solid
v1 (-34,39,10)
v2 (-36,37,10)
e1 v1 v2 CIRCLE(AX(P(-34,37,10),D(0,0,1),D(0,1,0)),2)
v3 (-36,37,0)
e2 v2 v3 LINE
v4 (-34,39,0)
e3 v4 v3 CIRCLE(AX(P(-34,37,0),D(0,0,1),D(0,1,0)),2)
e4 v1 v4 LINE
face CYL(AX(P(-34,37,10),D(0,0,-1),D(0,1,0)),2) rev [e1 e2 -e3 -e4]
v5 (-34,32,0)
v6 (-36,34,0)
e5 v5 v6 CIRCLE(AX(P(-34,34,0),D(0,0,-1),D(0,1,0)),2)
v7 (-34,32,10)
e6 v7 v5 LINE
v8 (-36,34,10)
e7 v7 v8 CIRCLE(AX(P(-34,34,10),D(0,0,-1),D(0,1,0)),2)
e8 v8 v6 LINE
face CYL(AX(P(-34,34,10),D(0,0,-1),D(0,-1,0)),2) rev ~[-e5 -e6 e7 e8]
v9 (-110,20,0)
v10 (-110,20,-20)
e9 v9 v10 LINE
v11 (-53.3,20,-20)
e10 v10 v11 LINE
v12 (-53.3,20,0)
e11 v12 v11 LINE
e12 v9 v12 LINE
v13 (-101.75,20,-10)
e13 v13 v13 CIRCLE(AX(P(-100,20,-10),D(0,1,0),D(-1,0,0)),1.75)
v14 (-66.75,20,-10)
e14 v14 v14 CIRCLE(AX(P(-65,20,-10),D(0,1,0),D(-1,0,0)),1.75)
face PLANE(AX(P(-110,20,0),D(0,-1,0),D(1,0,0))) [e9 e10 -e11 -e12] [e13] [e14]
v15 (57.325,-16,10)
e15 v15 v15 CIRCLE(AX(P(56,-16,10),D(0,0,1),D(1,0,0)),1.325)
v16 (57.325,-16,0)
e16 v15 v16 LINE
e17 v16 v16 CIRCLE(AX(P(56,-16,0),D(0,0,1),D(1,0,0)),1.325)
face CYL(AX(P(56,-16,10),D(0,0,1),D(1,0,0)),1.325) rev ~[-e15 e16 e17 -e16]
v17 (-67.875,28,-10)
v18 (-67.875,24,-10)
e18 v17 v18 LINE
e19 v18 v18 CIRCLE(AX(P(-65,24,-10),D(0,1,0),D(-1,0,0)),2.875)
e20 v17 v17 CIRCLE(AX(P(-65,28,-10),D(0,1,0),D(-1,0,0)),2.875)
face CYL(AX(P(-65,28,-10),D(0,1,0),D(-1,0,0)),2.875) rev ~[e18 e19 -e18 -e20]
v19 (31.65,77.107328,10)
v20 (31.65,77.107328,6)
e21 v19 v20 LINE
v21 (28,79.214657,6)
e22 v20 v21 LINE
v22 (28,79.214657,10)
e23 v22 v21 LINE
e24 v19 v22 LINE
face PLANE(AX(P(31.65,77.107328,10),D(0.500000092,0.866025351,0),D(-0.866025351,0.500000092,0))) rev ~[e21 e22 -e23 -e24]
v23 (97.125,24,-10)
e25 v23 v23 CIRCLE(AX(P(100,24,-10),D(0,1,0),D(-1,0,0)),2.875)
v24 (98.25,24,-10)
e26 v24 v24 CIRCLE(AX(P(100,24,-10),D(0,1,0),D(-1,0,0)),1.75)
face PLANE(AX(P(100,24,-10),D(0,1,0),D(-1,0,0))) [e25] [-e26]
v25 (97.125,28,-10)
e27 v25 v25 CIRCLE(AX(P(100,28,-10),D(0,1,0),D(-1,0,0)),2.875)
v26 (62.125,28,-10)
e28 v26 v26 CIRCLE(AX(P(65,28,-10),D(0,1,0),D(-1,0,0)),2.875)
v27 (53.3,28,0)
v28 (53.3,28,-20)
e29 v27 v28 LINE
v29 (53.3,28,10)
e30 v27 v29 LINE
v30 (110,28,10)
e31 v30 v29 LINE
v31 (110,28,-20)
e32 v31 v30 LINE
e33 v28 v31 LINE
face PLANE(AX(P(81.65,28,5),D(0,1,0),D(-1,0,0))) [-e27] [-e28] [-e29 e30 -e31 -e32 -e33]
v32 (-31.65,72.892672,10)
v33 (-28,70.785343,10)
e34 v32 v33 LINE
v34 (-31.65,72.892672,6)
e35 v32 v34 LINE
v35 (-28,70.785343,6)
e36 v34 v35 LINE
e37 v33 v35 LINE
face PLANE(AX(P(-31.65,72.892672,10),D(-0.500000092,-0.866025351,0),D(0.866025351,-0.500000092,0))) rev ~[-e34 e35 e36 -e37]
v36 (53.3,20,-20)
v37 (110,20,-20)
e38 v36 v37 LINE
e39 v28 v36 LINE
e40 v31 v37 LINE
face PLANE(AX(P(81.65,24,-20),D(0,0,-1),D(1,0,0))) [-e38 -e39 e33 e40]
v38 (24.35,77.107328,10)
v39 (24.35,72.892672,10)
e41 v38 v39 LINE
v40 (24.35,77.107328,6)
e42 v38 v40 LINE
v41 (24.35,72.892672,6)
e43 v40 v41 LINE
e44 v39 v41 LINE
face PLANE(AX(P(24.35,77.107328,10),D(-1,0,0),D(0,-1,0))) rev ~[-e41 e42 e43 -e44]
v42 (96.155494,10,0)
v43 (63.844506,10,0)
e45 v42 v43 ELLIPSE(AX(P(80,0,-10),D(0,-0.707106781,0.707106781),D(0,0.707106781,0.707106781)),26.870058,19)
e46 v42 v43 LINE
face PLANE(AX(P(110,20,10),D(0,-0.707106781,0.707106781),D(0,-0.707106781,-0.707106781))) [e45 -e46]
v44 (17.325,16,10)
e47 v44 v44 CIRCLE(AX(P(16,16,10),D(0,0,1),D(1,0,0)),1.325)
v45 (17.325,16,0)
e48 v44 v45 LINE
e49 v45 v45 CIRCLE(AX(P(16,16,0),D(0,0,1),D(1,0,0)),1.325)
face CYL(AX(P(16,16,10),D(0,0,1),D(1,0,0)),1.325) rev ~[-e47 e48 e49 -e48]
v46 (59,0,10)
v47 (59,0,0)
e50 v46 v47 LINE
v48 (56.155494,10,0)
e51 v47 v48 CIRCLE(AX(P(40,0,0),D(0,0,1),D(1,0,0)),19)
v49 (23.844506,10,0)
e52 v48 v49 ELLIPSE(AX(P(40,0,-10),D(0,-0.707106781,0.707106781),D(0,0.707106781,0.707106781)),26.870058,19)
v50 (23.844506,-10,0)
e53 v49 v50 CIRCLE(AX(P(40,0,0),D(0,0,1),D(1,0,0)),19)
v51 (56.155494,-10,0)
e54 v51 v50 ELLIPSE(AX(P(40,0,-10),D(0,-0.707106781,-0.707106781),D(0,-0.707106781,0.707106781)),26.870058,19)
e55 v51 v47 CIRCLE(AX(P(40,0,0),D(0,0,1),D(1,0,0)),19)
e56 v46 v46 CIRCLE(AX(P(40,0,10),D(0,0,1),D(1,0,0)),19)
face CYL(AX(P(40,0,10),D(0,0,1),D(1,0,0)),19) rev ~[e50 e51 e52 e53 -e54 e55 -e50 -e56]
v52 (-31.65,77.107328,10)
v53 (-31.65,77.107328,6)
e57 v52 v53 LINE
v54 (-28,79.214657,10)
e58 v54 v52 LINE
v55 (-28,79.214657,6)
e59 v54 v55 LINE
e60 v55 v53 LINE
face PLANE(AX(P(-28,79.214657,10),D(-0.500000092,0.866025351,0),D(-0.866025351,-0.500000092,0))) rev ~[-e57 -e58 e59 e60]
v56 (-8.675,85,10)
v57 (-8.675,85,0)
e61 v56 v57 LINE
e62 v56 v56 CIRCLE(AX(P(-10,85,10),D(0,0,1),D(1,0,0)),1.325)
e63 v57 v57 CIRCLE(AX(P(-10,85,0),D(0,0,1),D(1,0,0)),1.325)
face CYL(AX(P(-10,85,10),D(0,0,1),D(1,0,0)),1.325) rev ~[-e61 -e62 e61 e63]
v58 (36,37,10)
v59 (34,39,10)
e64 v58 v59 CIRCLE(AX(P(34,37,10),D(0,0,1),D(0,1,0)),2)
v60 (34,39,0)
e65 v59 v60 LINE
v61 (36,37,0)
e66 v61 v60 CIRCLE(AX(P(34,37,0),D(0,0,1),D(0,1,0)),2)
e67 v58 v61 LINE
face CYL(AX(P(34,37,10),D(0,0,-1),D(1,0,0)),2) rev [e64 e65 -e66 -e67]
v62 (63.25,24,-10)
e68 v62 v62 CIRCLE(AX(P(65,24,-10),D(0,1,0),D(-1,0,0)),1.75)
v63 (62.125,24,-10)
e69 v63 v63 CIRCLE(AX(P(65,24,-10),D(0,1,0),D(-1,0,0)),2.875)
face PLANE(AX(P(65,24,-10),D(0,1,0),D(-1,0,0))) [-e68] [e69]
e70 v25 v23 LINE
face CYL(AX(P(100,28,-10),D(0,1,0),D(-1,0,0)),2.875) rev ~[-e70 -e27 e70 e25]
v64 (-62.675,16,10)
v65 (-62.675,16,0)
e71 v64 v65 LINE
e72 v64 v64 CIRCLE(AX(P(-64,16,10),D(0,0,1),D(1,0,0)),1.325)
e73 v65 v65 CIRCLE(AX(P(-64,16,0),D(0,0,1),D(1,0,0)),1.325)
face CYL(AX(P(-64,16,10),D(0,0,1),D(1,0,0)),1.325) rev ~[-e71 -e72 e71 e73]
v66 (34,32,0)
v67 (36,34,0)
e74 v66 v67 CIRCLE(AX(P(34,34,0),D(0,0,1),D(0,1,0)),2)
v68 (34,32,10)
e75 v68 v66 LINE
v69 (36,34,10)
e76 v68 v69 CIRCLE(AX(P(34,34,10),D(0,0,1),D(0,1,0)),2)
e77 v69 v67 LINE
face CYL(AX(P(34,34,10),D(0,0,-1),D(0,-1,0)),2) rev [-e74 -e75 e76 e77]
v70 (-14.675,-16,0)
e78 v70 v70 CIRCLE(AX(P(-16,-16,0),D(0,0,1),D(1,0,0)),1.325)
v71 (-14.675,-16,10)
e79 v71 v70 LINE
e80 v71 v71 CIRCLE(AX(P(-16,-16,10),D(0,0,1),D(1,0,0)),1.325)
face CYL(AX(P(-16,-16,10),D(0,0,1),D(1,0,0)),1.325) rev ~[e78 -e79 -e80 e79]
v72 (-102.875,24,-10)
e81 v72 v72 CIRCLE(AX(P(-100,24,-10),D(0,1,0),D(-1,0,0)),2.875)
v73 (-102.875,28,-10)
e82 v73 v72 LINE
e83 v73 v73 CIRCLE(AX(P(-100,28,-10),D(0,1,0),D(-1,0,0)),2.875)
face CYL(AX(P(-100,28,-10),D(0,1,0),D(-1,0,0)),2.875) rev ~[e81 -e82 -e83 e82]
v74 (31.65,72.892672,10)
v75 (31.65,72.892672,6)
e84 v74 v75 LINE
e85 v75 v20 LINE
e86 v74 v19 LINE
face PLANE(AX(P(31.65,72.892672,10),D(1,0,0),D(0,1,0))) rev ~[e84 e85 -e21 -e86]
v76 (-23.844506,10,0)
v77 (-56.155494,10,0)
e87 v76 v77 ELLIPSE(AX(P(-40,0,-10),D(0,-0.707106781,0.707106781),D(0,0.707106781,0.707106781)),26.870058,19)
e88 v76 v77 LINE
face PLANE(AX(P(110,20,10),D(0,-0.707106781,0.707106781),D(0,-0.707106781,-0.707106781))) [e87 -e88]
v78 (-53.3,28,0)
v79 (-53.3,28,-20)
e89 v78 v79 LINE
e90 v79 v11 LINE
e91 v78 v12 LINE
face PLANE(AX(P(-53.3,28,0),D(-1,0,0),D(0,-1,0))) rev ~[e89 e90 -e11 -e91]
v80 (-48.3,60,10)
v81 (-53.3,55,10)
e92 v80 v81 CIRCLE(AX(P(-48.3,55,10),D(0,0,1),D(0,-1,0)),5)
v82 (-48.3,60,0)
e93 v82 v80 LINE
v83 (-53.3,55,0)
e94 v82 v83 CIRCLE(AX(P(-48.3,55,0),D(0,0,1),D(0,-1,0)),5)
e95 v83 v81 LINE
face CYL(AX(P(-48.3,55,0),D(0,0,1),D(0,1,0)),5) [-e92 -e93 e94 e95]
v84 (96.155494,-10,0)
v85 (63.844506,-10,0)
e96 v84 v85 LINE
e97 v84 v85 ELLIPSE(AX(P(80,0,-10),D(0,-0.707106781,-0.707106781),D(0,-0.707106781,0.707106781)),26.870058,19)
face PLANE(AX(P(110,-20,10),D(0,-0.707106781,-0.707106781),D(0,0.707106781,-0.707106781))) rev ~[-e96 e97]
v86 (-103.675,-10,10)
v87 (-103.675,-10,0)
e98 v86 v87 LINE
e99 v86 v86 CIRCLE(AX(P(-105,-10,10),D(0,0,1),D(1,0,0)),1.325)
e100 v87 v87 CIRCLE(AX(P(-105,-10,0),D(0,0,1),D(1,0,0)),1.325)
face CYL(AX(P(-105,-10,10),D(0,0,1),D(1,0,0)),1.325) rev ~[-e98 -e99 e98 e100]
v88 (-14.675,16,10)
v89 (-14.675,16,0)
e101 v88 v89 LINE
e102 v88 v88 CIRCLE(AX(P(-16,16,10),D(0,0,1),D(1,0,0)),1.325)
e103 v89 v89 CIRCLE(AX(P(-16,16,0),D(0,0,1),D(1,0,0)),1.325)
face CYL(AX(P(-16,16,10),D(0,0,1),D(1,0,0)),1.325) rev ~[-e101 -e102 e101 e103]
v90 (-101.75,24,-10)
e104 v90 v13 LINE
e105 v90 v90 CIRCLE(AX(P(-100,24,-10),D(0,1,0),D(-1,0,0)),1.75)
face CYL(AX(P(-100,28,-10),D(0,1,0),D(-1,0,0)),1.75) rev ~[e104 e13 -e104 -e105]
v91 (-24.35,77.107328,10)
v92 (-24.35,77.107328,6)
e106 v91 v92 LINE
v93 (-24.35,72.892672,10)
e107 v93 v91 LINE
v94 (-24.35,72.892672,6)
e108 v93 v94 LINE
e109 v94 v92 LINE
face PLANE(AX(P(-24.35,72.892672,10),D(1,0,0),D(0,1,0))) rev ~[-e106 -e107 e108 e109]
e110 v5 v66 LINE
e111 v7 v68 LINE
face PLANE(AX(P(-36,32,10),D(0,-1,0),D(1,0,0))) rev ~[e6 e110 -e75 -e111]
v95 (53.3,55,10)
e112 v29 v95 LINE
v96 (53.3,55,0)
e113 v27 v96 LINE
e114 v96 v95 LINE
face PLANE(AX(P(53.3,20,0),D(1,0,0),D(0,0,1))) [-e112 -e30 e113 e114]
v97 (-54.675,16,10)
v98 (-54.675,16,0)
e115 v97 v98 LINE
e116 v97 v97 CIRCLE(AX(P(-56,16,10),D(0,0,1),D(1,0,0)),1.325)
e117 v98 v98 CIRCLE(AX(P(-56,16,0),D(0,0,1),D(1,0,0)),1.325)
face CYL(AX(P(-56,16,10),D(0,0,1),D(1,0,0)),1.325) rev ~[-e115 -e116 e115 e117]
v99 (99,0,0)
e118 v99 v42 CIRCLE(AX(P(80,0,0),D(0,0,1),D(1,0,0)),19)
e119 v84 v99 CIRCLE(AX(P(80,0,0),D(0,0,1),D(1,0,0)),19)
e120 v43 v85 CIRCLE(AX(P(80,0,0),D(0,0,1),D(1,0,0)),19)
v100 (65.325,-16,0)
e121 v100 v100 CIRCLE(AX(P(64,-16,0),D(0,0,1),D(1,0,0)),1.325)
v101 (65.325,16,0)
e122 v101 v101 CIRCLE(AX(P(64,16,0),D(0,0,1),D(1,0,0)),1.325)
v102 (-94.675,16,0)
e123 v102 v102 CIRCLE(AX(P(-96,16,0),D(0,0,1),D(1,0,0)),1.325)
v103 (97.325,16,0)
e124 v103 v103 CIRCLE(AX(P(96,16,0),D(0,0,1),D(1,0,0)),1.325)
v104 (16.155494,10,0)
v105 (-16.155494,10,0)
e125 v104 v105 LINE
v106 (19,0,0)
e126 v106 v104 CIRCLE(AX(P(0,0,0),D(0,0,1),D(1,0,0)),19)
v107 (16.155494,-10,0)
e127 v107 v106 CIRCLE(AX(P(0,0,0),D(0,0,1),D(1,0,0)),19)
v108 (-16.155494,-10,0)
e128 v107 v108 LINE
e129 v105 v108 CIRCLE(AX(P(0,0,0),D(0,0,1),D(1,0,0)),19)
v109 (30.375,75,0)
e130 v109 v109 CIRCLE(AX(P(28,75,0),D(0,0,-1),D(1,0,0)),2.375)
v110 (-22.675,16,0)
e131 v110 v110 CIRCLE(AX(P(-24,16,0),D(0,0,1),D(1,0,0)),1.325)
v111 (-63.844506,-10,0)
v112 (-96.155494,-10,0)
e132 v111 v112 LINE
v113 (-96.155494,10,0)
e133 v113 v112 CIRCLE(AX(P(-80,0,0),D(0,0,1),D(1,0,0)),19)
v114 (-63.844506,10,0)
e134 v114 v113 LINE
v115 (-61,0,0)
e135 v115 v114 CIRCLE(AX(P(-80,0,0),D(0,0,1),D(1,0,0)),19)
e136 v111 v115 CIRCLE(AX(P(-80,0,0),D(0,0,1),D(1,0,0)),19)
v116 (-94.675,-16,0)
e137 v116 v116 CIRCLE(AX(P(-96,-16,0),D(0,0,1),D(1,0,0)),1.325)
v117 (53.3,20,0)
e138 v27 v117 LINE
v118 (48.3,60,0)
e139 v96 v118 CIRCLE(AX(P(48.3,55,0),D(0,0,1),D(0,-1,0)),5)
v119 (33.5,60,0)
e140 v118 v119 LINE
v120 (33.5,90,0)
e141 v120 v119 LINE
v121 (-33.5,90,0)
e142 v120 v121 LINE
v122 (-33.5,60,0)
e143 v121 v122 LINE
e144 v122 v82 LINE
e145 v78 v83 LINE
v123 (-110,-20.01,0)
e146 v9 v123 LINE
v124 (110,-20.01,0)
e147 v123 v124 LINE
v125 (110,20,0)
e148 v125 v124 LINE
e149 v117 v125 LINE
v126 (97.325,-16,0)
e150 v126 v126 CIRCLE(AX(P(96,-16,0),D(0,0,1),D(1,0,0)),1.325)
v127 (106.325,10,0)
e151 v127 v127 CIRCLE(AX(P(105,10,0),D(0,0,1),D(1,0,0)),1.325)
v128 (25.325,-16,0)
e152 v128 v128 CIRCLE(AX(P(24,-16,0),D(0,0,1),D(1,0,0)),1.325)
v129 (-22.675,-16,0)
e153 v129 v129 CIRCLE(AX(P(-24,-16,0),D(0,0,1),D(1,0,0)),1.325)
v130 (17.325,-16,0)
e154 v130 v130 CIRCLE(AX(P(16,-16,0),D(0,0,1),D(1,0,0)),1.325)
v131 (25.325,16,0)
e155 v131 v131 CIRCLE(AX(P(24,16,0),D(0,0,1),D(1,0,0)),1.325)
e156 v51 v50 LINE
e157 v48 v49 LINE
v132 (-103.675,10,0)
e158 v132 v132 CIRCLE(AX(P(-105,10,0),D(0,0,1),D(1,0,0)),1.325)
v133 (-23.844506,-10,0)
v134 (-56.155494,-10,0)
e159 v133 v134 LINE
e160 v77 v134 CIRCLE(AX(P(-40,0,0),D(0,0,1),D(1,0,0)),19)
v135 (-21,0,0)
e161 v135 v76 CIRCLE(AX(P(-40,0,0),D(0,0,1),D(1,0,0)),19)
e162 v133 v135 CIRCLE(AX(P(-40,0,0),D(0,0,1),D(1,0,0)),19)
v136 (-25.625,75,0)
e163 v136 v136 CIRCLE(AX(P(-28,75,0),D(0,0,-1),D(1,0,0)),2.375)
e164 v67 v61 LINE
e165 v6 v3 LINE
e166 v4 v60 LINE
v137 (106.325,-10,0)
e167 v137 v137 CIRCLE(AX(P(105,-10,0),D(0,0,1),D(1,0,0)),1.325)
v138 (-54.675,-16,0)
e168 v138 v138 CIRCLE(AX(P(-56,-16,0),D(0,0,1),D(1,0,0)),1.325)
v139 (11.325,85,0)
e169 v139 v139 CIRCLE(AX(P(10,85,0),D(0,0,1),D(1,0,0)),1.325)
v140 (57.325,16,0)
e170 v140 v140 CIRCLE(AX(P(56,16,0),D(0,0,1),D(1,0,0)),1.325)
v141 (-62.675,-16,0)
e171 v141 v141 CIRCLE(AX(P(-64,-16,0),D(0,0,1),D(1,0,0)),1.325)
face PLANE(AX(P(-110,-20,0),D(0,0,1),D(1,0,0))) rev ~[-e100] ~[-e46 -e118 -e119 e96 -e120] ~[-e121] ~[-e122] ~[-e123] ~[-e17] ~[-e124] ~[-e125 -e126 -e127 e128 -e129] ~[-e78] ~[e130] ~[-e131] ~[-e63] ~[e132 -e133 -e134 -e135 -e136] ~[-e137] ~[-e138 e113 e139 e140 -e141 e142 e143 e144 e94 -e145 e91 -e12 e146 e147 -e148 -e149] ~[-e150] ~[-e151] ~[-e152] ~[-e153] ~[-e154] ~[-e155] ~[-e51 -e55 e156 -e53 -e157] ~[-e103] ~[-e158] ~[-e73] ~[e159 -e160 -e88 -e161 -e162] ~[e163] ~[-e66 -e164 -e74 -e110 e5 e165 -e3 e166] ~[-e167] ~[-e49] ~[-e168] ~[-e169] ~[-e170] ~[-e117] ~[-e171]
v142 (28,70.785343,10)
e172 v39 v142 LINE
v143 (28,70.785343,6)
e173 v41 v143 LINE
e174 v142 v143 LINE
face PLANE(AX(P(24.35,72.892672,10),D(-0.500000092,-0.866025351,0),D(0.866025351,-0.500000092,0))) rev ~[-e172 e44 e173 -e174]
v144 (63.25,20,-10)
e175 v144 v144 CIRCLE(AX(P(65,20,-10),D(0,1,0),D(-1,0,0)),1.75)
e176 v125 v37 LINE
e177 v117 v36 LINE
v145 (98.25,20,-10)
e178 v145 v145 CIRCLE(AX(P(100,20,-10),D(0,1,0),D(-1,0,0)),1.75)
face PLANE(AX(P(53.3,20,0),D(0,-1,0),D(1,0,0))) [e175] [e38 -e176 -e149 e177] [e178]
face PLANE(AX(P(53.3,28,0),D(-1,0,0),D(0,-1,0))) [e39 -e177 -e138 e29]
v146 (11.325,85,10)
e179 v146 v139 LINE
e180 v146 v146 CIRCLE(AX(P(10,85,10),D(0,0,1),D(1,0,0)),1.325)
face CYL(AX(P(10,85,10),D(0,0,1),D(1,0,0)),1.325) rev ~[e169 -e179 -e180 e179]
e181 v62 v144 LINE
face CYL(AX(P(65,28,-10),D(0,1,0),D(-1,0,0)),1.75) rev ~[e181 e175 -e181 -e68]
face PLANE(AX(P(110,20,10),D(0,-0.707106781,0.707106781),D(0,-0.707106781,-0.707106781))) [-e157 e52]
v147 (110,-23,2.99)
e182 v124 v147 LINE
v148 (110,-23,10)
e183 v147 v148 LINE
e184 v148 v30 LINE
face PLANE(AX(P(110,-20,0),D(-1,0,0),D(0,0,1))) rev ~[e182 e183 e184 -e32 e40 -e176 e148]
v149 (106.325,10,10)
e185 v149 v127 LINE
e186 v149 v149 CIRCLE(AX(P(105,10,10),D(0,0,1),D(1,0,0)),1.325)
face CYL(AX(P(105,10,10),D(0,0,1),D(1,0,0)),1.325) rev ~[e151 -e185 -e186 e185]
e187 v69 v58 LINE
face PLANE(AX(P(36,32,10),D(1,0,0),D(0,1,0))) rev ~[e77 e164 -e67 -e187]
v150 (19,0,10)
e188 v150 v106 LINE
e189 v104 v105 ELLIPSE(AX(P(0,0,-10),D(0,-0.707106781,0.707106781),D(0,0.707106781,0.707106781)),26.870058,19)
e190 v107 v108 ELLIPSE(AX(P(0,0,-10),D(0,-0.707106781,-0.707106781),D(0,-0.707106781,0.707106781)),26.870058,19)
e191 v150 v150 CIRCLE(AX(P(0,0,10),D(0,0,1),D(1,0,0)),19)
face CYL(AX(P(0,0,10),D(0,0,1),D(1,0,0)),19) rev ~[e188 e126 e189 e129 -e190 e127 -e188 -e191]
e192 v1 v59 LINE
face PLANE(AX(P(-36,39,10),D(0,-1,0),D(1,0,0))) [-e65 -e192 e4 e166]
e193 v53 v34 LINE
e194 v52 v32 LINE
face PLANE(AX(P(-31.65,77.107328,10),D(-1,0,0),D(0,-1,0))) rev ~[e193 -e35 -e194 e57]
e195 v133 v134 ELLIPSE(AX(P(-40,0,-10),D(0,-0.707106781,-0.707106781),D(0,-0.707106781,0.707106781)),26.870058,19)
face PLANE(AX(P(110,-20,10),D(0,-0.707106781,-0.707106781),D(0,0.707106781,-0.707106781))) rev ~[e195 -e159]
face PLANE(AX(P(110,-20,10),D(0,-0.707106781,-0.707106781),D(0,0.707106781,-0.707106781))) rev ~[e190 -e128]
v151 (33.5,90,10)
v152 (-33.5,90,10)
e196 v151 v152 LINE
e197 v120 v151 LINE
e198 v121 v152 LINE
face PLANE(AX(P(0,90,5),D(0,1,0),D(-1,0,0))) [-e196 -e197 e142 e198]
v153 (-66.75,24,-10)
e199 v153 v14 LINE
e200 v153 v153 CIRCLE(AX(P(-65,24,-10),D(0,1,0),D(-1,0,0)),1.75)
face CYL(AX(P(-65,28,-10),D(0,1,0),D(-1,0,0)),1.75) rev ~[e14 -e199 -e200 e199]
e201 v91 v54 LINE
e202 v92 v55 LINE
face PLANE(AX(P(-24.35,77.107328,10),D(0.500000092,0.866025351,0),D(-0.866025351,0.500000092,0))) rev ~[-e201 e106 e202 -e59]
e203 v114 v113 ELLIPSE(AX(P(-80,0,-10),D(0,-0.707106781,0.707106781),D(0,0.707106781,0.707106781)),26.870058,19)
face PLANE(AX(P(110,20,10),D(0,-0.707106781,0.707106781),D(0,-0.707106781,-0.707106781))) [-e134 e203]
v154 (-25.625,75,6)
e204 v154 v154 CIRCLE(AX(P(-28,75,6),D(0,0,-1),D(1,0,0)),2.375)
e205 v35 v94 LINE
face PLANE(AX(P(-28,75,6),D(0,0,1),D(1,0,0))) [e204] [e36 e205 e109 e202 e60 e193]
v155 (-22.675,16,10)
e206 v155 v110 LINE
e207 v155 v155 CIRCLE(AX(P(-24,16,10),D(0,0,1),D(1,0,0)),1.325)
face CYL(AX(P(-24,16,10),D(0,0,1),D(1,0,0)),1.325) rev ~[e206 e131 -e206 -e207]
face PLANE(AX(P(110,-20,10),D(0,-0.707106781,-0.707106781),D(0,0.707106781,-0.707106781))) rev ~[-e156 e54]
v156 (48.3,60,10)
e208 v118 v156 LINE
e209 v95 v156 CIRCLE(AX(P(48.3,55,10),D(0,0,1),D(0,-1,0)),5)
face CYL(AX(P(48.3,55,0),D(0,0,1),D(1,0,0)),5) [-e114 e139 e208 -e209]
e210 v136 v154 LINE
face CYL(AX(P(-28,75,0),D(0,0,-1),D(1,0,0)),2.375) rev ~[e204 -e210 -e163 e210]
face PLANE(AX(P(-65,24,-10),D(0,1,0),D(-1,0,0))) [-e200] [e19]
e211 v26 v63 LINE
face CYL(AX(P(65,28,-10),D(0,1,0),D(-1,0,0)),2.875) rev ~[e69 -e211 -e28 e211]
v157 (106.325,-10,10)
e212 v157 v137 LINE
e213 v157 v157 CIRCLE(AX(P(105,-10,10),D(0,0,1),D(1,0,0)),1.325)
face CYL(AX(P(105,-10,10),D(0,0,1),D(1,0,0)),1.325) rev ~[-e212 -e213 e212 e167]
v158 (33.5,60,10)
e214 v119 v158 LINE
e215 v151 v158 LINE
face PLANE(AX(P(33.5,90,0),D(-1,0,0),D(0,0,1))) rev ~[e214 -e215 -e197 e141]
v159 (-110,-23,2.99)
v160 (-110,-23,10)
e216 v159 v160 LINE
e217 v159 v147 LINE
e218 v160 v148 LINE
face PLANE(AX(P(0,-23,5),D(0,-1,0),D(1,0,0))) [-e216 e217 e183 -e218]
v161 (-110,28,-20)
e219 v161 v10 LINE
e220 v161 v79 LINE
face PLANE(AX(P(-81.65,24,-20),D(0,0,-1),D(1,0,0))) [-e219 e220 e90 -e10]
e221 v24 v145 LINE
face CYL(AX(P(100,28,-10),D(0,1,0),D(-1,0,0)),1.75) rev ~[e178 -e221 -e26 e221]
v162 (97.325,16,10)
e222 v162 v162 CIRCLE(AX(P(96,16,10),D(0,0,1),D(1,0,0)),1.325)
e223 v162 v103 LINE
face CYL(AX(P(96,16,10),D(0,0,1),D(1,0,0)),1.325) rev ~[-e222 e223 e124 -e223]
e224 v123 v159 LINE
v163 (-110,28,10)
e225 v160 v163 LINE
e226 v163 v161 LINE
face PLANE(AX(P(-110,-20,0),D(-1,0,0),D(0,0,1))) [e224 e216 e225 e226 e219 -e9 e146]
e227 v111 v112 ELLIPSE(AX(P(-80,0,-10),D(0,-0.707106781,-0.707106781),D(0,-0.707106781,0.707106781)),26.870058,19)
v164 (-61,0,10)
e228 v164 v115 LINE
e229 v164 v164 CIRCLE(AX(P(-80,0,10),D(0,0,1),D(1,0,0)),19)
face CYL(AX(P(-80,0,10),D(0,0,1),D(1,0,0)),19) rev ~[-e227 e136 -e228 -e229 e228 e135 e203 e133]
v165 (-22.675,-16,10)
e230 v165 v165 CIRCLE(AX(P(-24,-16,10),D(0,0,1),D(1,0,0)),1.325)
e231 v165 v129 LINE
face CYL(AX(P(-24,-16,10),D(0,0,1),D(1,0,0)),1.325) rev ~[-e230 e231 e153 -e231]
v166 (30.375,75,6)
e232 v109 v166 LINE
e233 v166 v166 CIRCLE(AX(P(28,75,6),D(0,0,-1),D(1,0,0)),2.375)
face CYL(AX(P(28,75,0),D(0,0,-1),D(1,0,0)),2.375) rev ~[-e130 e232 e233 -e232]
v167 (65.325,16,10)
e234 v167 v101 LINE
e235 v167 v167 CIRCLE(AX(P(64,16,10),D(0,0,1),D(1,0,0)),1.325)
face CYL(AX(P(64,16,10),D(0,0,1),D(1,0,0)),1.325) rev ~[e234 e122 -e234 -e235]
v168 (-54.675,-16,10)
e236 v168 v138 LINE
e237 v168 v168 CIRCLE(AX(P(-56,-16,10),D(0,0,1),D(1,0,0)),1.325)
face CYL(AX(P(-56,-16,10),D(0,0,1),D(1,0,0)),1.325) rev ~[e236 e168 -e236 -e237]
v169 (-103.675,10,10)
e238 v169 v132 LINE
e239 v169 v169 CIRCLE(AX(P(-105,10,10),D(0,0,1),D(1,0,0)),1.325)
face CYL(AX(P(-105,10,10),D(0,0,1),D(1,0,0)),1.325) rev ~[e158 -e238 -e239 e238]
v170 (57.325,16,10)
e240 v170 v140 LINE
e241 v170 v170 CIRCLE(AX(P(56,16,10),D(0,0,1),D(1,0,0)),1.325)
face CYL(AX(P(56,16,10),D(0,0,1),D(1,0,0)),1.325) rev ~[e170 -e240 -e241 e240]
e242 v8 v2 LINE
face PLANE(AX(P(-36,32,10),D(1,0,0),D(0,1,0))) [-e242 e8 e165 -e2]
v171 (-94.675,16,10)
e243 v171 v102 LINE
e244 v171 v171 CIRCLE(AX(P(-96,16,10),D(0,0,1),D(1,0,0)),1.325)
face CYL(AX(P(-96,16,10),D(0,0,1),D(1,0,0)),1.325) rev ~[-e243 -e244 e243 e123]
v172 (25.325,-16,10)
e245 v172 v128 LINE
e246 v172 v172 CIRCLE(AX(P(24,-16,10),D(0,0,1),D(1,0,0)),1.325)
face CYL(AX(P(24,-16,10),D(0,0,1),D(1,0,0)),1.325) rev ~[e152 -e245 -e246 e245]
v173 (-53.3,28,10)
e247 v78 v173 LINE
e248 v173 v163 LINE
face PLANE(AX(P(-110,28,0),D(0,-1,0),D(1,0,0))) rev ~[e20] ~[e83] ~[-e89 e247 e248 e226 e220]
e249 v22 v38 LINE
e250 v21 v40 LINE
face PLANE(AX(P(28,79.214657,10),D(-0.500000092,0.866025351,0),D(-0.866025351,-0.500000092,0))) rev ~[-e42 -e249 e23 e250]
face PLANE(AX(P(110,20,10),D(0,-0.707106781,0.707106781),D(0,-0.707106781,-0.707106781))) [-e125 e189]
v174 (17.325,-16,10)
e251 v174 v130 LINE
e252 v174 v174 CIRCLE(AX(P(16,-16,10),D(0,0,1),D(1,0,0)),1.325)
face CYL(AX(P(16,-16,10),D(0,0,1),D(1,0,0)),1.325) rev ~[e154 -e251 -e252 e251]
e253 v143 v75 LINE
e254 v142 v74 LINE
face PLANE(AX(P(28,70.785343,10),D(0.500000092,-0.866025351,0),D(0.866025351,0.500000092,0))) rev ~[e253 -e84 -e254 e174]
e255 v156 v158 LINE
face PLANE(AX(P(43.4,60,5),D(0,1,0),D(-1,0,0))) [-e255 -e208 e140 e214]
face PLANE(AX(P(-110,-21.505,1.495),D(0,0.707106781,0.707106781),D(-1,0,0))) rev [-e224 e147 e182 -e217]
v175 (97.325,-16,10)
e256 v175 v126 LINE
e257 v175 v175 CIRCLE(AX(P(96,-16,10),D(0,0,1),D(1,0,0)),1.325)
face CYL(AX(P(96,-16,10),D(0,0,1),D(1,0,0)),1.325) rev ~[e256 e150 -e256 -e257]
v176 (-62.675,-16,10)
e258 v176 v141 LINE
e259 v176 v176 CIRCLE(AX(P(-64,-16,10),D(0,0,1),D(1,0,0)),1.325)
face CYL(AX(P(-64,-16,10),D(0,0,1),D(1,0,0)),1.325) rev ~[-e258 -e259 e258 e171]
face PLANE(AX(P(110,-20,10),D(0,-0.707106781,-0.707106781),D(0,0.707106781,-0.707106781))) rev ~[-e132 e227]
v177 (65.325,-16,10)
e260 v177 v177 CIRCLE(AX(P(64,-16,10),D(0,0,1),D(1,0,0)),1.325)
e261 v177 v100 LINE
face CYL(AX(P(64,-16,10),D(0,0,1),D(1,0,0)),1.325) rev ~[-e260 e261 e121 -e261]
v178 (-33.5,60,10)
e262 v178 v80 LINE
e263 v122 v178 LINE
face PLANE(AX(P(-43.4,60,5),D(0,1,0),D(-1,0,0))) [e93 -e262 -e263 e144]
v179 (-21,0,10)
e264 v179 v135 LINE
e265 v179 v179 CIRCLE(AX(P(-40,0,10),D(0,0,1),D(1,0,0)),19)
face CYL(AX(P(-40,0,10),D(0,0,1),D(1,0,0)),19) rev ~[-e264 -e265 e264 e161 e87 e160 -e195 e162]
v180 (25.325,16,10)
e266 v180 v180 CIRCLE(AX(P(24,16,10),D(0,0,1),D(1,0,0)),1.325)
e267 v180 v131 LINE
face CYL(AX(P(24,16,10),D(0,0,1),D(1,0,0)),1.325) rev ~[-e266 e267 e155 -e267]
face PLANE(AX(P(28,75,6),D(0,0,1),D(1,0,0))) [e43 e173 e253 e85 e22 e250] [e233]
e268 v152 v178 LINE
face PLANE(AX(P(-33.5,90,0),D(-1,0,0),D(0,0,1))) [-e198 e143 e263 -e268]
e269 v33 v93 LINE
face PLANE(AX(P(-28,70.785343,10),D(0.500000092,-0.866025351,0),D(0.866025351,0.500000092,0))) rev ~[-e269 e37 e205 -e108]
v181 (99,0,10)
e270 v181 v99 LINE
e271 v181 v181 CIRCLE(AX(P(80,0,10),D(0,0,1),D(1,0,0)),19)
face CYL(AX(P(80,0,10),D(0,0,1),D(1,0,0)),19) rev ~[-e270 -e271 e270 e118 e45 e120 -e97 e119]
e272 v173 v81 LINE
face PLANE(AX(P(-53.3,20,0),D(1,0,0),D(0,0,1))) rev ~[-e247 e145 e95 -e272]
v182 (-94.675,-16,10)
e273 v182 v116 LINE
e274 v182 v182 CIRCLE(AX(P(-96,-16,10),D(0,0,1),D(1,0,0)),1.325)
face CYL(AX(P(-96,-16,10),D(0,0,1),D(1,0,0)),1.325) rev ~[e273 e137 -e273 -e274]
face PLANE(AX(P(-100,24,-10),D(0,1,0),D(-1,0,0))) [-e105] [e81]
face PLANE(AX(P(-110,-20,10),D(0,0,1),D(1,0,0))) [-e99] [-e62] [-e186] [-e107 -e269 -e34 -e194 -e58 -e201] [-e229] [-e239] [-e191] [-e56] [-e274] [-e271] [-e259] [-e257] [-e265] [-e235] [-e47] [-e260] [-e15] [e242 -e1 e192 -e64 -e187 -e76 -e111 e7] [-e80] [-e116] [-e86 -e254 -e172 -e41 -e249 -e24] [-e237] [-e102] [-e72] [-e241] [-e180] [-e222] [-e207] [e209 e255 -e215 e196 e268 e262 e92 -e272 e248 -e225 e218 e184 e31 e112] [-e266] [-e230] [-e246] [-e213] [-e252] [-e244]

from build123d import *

# Parameters (mm, degrees)
SKETCH_W        = 220
SKETCH_H        = 40
PAD_DEPTH       = 10
SKETCH001_R     = 19
POCKET_DEPTH    = 10
PAD001_DEPTH    = 220
PAD002_DEPTH    = 220
SKETCH004_R     = 1.325
POCKET001_DEPTH = 10
SKETCH005_R     = 1.325
POCKET002_DEPTH = 10
SKETCH006_W     = 106.6
SKETCH006_H     = 10
PAD003_DEPTH    = 70
SKETCH007_W     = 19.8
SKETCH007_H     = 10
POCKET003_DEPTH = 30
SKETCH008_W     = 56.7
SKETCH008_H     = 10
PAD004_DEPTH    = 8
SKETCH009_W     = 56.7
SKETCH009_H     = 8
PAD005_DEPTH    = 20
SKETCH010_R     = 2.375
POCKET004_DEPTH = 10
POCKET005_DEPTH = 4
FILLET_R        = 5
SKETCH012_R     = 1.75
POCKET006_DEPTH = 8
SKETCH013_R     = 2.875
POCKET007_DEPTH = 4
SKETCH014_R     = 1.325
POCKET008_DEPTH = 10
SKETCH015_W     = 72
SKETCH015_H     = 7
POCKET009_DEPTH = 10
FILLET001_R     = 2
SKETCH016_W     = 220
SKETCH016_H     = 10
PAD006_DEPTH    = 3
CHAMFER_SIZE    = 2.99


with BuildPart() as part:
    # Sketch → Pad (new body)
    with BuildSketch(Plane.XY):
        Rectangle(SKETCH_W, SKETCH_H)
    extrude(amount=PAD_DEPTH)

    # Sketch001 (on Face6 of Pad) → Pocket (cut)
    with BuildSketch(Plane.XY.offset(10)):
        with Locations((-80, 0)):
            Circle(SKETCH001_R)
        with Locations((-40, 0)):
            Circle(SKETCH001_R)
        Circle(SKETCH001_R)
        with Locations((40, 0)):
            Circle(SKETCH001_R)
        with Locations((80, 0)):
            Circle(SKETCH001_R)
    extrude(amount=-POCKET_DEPTH, mode=Mode.SUBTRACT)

    # Sketch002 (on Face3 of Pocket) → Pad001 (join)
    with BuildSketch(Plane.YZ.offset(110)):
        Polygon((-10, 0), (-20, 0), (-20, 10), align=None)
    extrude(amount=-PAD001_DEPTH)

    # Sketch003 (on Face3 of Pad001) → Pad002 (join)
    with BuildSketch(Plane.YZ.offset(110)):
        Polygon((20, 10), (10, 0), (20, 0), align=None)
    extrude(amount=-PAD002_DEPTH)

    # Sketch004 (on Face5 of Pad002) → Pocket001 (cut)
    with BuildSketch(Plane.XY.offset(10)):
        with Locations((-96, 16)):
            Circle(SKETCH004_R)
        with Locations((-96, -16)):
            Circle(SKETCH004_R)
        with Locations((-64, -16)):
            Circle(SKETCH004_R)
        with Locations((-64, 16)):
            Circle(SKETCH004_R)
        with Locations((-56, 16)):
            Circle(SKETCH004_R)
        with Locations((-56, -16)):
            Circle(SKETCH004_R)
        with Locations((-24, -16)):
            Circle(SKETCH004_R)
        with Locations((-24, 16)):
            Circle(SKETCH004_R)
        with Locations((-16, 16)):
            Circle(SKETCH004_R)
        with Locations((-16, -16)):
            Circle(SKETCH004_R)
        with Locations((16, -16)):
            Circle(SKETCH004_R)
        with Locations((16, 16)):
            Circle(SKETCH004_R)
        with Locations((24, 16)):
            Circle(SKETCH004_R)
        with Locations((24, -16)):
            Circle(SKETCH004_R)
        with Locations((56, -16)):
            Circle(SKETCH004_R)
        with Locations((56, 16)):
            Circle(SKETCH004_R)
        with Locations((64, 16)):
            Circle(SKETCH004_R)
        with Locations((64, -16)):
            Circle(SKETCH004_R)
        with Locations((96, -16)):
            Circle(SKETCH004_R)
        with Locations((96, 16)):
            Circle(SKETCH004_R)
    extrude(amount=-POCKET001_DEPTH, mode=Mode.SUBTRACT)

    # Sketch005 (on Face5 of Pocket001) → Pocket002 (cut)
    with BuildSketch(Plane.XY.offset(10)):
        with Locations((-105, 10)):
            Circle(SKETCH005_R)
        with Locations((-105, -10)):
            Circle(SKETCH005_R)
        with Locations((105, 10)):
            Circle(SKETCH005_R)
        with Locations((105, -10)):
            Circle(SKETCH005_R)
    extrude(amount=-POCKET002_DEPTH, mode=Mode.SUBTRACT)

    # Sketch006 (on Face1 of Pocket002) → Pad003 (join)
    with BuildSketch(Plane(origin=(0, 20, 0), x_dir=(-1, 0, 0), z_dir=(0, 1, 0))):
        with Locations((0, 5)):
            Rectangle(SKETCH006_W, SKETCH006_H)
    extrude(amount=PAD003_DEPTH)

    # Sketch007 → Pocket003 (cut)
    with BuildSketch(Plane(origin=(0, 90, 0), x_dir=(-1, 0, 0), z_dir=(0, 1, 0))):
        with Locations((-43.4, 5)):
            Rectangle(SKETCH007_W, SKETCH007_H)
        with Locations((43.4, 5)):
            Rectangle(SKETCH007_W, SKETCH007_H)
    extrude(amount=-POCKET003_DEPTH, mode=Mode.SUBTRACT)

    # Sketch008 (on Face1 of Pocket003) → Pad004 (join)
    with BuildSketch(Plane(origin=(0, 20, 0), x_dir=(-1, 0, 0), z_dir=(0, 1, 0))):
        with Locations((-81.65, 5)):
            Rectangle(SKETCH008_W, SKETCH008_H)
        with Locations((81.65, 5)):
            Rectangle(SKETCH008_W, SKETCH008_H)
    extrude(amount=PAD004_DEPTH)

    # Sketch009 (on Face14 of Pad004) → Pad005 (join)
    with BuildSketch(Plane(origin=(0, 0, 0), x_dir=(1, 0, 0), z_dir=(0, 0, -1))):
        with Locations((-81.65, -24)):
            Rectangle(SKETCH009_W, SKETCH009_H)
        with Locations((81.65, -24)):
            Rectangle(SKETCH009_W, SKETCH009_H)
    extrude(amount=PAD005_DEPTH)

    # Sketch010 (on Face15 of Pad005) → Pocket004 (cut)
    with BuildSketch(Plane(origin=(0, 0, 0), x_dir=(1, 0, 0), z_dir=(0, 0, -1))):
        with Locations((-28, -75)):
            Circle(SKETCH010_R)
        with Locations((28, -75)):
            Circle(SKETCH010_R)
    extrude(amount=-POCKET004_DEPTH, mode=Mode.SUBTRACT)

    # Sketch011 (on Face87 of Pocket004) → Pocket005 (cut)
    with BuildSketch(Plane.XY.offset(10)):
        Polygon((-24.35, 72.892672), (-24.35, 77.107328), (-28, 79.214657), (-31.65, 77.107328), (-31.65, 72.892672), (-28, 70.785343), align=None)
        Polygon((31.65, 77.107328), (28, 79.214657), (24.35, 77.107328), (24.35, 72.892672), (28, 70.785343), (31.65, 72.892672), align=None)
    extrude(amount=-POCKET005_DEPTH, mode=Mode.SUBTRACT)

    # Fillet
    fillet_edges = [part.edges().sort_by_distance(p)[0] for p in [
        (53.3, 60, 5),
        (-53.3, 60, 5),
    ]]
    fillet(fillet_edges, radius=FILLET_R)

    # Sketch012 (on Face19 of Fillet) → Pocket006 (cut)
    with BuildSketch(Plane(origin=(0, 28, 0), x_dir=(-1, 0, 0), z_dir=(0, 1, 0))):
        with Locations((-100, -10)):
            Circle(SKETCH012_R)
        with Locations((-65, -10)):
            Circle(SKETCH012_R)
        with Locations((65, -10)):
            Circle(SKETCH012_R)
        with Locations((100, -10)):
            Circle(SKETCH012_R)
    extrude(amount=-POCKET006_DEPTH, mode=Mode.SUBTRACT)

    # Sketch013 (on Face19 of Pocket006) → Pocket007 (cut)
    with BuildSketch(Plane(origin=(0, 28, 0), x_dir=(-1, 0, 0), z_dir=(0, 1, 0))):
        with Locations((-100, -10)):
            Circle(SKETCH013_R)
        with Locations((-65, -10)):
            Circle(SKETCH013_R)
        with Locations((65, -10)):
            Circle(SKETCH013_R)
        with Locations((100, -10)):
            Circle(SKETCH013_R)
    extrude(amount=-POCKET007_DEPTH, mode=Mode.SUBTRACT)

    # Sketch014 (on Face17 of Pocket007) → Pocket008 (cut)
    with BuildSketch(Plane.XY.offset(10)):
        with Locations((-10, 85)):
            Circle(SKETCH014_R)
        with Locations((10, 85)):
            Circle(SKETCH014_R)
    extrude(amount=-POCKET008_DEPTH, mode=Mode.SUBTRACT)

    # Sketch015 (on Face19 of Pocket008) → Pocket009 (cut)
    with BuildSketch(Plane.XY.offset(10)):
        with Locations((0, 35.5)):
            Rectangle(SKETCH015_W, SKETCH015_H)
    extrude(amount=-POCKET009_DEPTH, mode=Mode.SUBTRACT)

    # Fillet001
    fillet001_edges = [part.edges().sort_by_distance(p)[0] for p in [
        (36, 39, 5),
        (-36, 39, 5),
        (-36, 32, 5),
        (36, 32, 5),
    ]]
    fillet(fillet001_edges, radius=FILLET001_R)

    # Sketch016 (on Face104 of Fillet001) → Pad006 (join)
    with BuildSketch(Plane.XZ.offset(20)):
        with Locations((0, 5)):
            Rectangle(SKETCH016_W, SKETCH016_H)
    extrude(amount=PAD006_DEPTH)

    # Chamfer
    chamfer_edges = [part.edges().sort_by_distance(p)[0] for p in [
        (0, -23, 0),
    ]]
    chamfer(chamfer_edges, length=CHAMFER_SIZE)


solid = part.part
